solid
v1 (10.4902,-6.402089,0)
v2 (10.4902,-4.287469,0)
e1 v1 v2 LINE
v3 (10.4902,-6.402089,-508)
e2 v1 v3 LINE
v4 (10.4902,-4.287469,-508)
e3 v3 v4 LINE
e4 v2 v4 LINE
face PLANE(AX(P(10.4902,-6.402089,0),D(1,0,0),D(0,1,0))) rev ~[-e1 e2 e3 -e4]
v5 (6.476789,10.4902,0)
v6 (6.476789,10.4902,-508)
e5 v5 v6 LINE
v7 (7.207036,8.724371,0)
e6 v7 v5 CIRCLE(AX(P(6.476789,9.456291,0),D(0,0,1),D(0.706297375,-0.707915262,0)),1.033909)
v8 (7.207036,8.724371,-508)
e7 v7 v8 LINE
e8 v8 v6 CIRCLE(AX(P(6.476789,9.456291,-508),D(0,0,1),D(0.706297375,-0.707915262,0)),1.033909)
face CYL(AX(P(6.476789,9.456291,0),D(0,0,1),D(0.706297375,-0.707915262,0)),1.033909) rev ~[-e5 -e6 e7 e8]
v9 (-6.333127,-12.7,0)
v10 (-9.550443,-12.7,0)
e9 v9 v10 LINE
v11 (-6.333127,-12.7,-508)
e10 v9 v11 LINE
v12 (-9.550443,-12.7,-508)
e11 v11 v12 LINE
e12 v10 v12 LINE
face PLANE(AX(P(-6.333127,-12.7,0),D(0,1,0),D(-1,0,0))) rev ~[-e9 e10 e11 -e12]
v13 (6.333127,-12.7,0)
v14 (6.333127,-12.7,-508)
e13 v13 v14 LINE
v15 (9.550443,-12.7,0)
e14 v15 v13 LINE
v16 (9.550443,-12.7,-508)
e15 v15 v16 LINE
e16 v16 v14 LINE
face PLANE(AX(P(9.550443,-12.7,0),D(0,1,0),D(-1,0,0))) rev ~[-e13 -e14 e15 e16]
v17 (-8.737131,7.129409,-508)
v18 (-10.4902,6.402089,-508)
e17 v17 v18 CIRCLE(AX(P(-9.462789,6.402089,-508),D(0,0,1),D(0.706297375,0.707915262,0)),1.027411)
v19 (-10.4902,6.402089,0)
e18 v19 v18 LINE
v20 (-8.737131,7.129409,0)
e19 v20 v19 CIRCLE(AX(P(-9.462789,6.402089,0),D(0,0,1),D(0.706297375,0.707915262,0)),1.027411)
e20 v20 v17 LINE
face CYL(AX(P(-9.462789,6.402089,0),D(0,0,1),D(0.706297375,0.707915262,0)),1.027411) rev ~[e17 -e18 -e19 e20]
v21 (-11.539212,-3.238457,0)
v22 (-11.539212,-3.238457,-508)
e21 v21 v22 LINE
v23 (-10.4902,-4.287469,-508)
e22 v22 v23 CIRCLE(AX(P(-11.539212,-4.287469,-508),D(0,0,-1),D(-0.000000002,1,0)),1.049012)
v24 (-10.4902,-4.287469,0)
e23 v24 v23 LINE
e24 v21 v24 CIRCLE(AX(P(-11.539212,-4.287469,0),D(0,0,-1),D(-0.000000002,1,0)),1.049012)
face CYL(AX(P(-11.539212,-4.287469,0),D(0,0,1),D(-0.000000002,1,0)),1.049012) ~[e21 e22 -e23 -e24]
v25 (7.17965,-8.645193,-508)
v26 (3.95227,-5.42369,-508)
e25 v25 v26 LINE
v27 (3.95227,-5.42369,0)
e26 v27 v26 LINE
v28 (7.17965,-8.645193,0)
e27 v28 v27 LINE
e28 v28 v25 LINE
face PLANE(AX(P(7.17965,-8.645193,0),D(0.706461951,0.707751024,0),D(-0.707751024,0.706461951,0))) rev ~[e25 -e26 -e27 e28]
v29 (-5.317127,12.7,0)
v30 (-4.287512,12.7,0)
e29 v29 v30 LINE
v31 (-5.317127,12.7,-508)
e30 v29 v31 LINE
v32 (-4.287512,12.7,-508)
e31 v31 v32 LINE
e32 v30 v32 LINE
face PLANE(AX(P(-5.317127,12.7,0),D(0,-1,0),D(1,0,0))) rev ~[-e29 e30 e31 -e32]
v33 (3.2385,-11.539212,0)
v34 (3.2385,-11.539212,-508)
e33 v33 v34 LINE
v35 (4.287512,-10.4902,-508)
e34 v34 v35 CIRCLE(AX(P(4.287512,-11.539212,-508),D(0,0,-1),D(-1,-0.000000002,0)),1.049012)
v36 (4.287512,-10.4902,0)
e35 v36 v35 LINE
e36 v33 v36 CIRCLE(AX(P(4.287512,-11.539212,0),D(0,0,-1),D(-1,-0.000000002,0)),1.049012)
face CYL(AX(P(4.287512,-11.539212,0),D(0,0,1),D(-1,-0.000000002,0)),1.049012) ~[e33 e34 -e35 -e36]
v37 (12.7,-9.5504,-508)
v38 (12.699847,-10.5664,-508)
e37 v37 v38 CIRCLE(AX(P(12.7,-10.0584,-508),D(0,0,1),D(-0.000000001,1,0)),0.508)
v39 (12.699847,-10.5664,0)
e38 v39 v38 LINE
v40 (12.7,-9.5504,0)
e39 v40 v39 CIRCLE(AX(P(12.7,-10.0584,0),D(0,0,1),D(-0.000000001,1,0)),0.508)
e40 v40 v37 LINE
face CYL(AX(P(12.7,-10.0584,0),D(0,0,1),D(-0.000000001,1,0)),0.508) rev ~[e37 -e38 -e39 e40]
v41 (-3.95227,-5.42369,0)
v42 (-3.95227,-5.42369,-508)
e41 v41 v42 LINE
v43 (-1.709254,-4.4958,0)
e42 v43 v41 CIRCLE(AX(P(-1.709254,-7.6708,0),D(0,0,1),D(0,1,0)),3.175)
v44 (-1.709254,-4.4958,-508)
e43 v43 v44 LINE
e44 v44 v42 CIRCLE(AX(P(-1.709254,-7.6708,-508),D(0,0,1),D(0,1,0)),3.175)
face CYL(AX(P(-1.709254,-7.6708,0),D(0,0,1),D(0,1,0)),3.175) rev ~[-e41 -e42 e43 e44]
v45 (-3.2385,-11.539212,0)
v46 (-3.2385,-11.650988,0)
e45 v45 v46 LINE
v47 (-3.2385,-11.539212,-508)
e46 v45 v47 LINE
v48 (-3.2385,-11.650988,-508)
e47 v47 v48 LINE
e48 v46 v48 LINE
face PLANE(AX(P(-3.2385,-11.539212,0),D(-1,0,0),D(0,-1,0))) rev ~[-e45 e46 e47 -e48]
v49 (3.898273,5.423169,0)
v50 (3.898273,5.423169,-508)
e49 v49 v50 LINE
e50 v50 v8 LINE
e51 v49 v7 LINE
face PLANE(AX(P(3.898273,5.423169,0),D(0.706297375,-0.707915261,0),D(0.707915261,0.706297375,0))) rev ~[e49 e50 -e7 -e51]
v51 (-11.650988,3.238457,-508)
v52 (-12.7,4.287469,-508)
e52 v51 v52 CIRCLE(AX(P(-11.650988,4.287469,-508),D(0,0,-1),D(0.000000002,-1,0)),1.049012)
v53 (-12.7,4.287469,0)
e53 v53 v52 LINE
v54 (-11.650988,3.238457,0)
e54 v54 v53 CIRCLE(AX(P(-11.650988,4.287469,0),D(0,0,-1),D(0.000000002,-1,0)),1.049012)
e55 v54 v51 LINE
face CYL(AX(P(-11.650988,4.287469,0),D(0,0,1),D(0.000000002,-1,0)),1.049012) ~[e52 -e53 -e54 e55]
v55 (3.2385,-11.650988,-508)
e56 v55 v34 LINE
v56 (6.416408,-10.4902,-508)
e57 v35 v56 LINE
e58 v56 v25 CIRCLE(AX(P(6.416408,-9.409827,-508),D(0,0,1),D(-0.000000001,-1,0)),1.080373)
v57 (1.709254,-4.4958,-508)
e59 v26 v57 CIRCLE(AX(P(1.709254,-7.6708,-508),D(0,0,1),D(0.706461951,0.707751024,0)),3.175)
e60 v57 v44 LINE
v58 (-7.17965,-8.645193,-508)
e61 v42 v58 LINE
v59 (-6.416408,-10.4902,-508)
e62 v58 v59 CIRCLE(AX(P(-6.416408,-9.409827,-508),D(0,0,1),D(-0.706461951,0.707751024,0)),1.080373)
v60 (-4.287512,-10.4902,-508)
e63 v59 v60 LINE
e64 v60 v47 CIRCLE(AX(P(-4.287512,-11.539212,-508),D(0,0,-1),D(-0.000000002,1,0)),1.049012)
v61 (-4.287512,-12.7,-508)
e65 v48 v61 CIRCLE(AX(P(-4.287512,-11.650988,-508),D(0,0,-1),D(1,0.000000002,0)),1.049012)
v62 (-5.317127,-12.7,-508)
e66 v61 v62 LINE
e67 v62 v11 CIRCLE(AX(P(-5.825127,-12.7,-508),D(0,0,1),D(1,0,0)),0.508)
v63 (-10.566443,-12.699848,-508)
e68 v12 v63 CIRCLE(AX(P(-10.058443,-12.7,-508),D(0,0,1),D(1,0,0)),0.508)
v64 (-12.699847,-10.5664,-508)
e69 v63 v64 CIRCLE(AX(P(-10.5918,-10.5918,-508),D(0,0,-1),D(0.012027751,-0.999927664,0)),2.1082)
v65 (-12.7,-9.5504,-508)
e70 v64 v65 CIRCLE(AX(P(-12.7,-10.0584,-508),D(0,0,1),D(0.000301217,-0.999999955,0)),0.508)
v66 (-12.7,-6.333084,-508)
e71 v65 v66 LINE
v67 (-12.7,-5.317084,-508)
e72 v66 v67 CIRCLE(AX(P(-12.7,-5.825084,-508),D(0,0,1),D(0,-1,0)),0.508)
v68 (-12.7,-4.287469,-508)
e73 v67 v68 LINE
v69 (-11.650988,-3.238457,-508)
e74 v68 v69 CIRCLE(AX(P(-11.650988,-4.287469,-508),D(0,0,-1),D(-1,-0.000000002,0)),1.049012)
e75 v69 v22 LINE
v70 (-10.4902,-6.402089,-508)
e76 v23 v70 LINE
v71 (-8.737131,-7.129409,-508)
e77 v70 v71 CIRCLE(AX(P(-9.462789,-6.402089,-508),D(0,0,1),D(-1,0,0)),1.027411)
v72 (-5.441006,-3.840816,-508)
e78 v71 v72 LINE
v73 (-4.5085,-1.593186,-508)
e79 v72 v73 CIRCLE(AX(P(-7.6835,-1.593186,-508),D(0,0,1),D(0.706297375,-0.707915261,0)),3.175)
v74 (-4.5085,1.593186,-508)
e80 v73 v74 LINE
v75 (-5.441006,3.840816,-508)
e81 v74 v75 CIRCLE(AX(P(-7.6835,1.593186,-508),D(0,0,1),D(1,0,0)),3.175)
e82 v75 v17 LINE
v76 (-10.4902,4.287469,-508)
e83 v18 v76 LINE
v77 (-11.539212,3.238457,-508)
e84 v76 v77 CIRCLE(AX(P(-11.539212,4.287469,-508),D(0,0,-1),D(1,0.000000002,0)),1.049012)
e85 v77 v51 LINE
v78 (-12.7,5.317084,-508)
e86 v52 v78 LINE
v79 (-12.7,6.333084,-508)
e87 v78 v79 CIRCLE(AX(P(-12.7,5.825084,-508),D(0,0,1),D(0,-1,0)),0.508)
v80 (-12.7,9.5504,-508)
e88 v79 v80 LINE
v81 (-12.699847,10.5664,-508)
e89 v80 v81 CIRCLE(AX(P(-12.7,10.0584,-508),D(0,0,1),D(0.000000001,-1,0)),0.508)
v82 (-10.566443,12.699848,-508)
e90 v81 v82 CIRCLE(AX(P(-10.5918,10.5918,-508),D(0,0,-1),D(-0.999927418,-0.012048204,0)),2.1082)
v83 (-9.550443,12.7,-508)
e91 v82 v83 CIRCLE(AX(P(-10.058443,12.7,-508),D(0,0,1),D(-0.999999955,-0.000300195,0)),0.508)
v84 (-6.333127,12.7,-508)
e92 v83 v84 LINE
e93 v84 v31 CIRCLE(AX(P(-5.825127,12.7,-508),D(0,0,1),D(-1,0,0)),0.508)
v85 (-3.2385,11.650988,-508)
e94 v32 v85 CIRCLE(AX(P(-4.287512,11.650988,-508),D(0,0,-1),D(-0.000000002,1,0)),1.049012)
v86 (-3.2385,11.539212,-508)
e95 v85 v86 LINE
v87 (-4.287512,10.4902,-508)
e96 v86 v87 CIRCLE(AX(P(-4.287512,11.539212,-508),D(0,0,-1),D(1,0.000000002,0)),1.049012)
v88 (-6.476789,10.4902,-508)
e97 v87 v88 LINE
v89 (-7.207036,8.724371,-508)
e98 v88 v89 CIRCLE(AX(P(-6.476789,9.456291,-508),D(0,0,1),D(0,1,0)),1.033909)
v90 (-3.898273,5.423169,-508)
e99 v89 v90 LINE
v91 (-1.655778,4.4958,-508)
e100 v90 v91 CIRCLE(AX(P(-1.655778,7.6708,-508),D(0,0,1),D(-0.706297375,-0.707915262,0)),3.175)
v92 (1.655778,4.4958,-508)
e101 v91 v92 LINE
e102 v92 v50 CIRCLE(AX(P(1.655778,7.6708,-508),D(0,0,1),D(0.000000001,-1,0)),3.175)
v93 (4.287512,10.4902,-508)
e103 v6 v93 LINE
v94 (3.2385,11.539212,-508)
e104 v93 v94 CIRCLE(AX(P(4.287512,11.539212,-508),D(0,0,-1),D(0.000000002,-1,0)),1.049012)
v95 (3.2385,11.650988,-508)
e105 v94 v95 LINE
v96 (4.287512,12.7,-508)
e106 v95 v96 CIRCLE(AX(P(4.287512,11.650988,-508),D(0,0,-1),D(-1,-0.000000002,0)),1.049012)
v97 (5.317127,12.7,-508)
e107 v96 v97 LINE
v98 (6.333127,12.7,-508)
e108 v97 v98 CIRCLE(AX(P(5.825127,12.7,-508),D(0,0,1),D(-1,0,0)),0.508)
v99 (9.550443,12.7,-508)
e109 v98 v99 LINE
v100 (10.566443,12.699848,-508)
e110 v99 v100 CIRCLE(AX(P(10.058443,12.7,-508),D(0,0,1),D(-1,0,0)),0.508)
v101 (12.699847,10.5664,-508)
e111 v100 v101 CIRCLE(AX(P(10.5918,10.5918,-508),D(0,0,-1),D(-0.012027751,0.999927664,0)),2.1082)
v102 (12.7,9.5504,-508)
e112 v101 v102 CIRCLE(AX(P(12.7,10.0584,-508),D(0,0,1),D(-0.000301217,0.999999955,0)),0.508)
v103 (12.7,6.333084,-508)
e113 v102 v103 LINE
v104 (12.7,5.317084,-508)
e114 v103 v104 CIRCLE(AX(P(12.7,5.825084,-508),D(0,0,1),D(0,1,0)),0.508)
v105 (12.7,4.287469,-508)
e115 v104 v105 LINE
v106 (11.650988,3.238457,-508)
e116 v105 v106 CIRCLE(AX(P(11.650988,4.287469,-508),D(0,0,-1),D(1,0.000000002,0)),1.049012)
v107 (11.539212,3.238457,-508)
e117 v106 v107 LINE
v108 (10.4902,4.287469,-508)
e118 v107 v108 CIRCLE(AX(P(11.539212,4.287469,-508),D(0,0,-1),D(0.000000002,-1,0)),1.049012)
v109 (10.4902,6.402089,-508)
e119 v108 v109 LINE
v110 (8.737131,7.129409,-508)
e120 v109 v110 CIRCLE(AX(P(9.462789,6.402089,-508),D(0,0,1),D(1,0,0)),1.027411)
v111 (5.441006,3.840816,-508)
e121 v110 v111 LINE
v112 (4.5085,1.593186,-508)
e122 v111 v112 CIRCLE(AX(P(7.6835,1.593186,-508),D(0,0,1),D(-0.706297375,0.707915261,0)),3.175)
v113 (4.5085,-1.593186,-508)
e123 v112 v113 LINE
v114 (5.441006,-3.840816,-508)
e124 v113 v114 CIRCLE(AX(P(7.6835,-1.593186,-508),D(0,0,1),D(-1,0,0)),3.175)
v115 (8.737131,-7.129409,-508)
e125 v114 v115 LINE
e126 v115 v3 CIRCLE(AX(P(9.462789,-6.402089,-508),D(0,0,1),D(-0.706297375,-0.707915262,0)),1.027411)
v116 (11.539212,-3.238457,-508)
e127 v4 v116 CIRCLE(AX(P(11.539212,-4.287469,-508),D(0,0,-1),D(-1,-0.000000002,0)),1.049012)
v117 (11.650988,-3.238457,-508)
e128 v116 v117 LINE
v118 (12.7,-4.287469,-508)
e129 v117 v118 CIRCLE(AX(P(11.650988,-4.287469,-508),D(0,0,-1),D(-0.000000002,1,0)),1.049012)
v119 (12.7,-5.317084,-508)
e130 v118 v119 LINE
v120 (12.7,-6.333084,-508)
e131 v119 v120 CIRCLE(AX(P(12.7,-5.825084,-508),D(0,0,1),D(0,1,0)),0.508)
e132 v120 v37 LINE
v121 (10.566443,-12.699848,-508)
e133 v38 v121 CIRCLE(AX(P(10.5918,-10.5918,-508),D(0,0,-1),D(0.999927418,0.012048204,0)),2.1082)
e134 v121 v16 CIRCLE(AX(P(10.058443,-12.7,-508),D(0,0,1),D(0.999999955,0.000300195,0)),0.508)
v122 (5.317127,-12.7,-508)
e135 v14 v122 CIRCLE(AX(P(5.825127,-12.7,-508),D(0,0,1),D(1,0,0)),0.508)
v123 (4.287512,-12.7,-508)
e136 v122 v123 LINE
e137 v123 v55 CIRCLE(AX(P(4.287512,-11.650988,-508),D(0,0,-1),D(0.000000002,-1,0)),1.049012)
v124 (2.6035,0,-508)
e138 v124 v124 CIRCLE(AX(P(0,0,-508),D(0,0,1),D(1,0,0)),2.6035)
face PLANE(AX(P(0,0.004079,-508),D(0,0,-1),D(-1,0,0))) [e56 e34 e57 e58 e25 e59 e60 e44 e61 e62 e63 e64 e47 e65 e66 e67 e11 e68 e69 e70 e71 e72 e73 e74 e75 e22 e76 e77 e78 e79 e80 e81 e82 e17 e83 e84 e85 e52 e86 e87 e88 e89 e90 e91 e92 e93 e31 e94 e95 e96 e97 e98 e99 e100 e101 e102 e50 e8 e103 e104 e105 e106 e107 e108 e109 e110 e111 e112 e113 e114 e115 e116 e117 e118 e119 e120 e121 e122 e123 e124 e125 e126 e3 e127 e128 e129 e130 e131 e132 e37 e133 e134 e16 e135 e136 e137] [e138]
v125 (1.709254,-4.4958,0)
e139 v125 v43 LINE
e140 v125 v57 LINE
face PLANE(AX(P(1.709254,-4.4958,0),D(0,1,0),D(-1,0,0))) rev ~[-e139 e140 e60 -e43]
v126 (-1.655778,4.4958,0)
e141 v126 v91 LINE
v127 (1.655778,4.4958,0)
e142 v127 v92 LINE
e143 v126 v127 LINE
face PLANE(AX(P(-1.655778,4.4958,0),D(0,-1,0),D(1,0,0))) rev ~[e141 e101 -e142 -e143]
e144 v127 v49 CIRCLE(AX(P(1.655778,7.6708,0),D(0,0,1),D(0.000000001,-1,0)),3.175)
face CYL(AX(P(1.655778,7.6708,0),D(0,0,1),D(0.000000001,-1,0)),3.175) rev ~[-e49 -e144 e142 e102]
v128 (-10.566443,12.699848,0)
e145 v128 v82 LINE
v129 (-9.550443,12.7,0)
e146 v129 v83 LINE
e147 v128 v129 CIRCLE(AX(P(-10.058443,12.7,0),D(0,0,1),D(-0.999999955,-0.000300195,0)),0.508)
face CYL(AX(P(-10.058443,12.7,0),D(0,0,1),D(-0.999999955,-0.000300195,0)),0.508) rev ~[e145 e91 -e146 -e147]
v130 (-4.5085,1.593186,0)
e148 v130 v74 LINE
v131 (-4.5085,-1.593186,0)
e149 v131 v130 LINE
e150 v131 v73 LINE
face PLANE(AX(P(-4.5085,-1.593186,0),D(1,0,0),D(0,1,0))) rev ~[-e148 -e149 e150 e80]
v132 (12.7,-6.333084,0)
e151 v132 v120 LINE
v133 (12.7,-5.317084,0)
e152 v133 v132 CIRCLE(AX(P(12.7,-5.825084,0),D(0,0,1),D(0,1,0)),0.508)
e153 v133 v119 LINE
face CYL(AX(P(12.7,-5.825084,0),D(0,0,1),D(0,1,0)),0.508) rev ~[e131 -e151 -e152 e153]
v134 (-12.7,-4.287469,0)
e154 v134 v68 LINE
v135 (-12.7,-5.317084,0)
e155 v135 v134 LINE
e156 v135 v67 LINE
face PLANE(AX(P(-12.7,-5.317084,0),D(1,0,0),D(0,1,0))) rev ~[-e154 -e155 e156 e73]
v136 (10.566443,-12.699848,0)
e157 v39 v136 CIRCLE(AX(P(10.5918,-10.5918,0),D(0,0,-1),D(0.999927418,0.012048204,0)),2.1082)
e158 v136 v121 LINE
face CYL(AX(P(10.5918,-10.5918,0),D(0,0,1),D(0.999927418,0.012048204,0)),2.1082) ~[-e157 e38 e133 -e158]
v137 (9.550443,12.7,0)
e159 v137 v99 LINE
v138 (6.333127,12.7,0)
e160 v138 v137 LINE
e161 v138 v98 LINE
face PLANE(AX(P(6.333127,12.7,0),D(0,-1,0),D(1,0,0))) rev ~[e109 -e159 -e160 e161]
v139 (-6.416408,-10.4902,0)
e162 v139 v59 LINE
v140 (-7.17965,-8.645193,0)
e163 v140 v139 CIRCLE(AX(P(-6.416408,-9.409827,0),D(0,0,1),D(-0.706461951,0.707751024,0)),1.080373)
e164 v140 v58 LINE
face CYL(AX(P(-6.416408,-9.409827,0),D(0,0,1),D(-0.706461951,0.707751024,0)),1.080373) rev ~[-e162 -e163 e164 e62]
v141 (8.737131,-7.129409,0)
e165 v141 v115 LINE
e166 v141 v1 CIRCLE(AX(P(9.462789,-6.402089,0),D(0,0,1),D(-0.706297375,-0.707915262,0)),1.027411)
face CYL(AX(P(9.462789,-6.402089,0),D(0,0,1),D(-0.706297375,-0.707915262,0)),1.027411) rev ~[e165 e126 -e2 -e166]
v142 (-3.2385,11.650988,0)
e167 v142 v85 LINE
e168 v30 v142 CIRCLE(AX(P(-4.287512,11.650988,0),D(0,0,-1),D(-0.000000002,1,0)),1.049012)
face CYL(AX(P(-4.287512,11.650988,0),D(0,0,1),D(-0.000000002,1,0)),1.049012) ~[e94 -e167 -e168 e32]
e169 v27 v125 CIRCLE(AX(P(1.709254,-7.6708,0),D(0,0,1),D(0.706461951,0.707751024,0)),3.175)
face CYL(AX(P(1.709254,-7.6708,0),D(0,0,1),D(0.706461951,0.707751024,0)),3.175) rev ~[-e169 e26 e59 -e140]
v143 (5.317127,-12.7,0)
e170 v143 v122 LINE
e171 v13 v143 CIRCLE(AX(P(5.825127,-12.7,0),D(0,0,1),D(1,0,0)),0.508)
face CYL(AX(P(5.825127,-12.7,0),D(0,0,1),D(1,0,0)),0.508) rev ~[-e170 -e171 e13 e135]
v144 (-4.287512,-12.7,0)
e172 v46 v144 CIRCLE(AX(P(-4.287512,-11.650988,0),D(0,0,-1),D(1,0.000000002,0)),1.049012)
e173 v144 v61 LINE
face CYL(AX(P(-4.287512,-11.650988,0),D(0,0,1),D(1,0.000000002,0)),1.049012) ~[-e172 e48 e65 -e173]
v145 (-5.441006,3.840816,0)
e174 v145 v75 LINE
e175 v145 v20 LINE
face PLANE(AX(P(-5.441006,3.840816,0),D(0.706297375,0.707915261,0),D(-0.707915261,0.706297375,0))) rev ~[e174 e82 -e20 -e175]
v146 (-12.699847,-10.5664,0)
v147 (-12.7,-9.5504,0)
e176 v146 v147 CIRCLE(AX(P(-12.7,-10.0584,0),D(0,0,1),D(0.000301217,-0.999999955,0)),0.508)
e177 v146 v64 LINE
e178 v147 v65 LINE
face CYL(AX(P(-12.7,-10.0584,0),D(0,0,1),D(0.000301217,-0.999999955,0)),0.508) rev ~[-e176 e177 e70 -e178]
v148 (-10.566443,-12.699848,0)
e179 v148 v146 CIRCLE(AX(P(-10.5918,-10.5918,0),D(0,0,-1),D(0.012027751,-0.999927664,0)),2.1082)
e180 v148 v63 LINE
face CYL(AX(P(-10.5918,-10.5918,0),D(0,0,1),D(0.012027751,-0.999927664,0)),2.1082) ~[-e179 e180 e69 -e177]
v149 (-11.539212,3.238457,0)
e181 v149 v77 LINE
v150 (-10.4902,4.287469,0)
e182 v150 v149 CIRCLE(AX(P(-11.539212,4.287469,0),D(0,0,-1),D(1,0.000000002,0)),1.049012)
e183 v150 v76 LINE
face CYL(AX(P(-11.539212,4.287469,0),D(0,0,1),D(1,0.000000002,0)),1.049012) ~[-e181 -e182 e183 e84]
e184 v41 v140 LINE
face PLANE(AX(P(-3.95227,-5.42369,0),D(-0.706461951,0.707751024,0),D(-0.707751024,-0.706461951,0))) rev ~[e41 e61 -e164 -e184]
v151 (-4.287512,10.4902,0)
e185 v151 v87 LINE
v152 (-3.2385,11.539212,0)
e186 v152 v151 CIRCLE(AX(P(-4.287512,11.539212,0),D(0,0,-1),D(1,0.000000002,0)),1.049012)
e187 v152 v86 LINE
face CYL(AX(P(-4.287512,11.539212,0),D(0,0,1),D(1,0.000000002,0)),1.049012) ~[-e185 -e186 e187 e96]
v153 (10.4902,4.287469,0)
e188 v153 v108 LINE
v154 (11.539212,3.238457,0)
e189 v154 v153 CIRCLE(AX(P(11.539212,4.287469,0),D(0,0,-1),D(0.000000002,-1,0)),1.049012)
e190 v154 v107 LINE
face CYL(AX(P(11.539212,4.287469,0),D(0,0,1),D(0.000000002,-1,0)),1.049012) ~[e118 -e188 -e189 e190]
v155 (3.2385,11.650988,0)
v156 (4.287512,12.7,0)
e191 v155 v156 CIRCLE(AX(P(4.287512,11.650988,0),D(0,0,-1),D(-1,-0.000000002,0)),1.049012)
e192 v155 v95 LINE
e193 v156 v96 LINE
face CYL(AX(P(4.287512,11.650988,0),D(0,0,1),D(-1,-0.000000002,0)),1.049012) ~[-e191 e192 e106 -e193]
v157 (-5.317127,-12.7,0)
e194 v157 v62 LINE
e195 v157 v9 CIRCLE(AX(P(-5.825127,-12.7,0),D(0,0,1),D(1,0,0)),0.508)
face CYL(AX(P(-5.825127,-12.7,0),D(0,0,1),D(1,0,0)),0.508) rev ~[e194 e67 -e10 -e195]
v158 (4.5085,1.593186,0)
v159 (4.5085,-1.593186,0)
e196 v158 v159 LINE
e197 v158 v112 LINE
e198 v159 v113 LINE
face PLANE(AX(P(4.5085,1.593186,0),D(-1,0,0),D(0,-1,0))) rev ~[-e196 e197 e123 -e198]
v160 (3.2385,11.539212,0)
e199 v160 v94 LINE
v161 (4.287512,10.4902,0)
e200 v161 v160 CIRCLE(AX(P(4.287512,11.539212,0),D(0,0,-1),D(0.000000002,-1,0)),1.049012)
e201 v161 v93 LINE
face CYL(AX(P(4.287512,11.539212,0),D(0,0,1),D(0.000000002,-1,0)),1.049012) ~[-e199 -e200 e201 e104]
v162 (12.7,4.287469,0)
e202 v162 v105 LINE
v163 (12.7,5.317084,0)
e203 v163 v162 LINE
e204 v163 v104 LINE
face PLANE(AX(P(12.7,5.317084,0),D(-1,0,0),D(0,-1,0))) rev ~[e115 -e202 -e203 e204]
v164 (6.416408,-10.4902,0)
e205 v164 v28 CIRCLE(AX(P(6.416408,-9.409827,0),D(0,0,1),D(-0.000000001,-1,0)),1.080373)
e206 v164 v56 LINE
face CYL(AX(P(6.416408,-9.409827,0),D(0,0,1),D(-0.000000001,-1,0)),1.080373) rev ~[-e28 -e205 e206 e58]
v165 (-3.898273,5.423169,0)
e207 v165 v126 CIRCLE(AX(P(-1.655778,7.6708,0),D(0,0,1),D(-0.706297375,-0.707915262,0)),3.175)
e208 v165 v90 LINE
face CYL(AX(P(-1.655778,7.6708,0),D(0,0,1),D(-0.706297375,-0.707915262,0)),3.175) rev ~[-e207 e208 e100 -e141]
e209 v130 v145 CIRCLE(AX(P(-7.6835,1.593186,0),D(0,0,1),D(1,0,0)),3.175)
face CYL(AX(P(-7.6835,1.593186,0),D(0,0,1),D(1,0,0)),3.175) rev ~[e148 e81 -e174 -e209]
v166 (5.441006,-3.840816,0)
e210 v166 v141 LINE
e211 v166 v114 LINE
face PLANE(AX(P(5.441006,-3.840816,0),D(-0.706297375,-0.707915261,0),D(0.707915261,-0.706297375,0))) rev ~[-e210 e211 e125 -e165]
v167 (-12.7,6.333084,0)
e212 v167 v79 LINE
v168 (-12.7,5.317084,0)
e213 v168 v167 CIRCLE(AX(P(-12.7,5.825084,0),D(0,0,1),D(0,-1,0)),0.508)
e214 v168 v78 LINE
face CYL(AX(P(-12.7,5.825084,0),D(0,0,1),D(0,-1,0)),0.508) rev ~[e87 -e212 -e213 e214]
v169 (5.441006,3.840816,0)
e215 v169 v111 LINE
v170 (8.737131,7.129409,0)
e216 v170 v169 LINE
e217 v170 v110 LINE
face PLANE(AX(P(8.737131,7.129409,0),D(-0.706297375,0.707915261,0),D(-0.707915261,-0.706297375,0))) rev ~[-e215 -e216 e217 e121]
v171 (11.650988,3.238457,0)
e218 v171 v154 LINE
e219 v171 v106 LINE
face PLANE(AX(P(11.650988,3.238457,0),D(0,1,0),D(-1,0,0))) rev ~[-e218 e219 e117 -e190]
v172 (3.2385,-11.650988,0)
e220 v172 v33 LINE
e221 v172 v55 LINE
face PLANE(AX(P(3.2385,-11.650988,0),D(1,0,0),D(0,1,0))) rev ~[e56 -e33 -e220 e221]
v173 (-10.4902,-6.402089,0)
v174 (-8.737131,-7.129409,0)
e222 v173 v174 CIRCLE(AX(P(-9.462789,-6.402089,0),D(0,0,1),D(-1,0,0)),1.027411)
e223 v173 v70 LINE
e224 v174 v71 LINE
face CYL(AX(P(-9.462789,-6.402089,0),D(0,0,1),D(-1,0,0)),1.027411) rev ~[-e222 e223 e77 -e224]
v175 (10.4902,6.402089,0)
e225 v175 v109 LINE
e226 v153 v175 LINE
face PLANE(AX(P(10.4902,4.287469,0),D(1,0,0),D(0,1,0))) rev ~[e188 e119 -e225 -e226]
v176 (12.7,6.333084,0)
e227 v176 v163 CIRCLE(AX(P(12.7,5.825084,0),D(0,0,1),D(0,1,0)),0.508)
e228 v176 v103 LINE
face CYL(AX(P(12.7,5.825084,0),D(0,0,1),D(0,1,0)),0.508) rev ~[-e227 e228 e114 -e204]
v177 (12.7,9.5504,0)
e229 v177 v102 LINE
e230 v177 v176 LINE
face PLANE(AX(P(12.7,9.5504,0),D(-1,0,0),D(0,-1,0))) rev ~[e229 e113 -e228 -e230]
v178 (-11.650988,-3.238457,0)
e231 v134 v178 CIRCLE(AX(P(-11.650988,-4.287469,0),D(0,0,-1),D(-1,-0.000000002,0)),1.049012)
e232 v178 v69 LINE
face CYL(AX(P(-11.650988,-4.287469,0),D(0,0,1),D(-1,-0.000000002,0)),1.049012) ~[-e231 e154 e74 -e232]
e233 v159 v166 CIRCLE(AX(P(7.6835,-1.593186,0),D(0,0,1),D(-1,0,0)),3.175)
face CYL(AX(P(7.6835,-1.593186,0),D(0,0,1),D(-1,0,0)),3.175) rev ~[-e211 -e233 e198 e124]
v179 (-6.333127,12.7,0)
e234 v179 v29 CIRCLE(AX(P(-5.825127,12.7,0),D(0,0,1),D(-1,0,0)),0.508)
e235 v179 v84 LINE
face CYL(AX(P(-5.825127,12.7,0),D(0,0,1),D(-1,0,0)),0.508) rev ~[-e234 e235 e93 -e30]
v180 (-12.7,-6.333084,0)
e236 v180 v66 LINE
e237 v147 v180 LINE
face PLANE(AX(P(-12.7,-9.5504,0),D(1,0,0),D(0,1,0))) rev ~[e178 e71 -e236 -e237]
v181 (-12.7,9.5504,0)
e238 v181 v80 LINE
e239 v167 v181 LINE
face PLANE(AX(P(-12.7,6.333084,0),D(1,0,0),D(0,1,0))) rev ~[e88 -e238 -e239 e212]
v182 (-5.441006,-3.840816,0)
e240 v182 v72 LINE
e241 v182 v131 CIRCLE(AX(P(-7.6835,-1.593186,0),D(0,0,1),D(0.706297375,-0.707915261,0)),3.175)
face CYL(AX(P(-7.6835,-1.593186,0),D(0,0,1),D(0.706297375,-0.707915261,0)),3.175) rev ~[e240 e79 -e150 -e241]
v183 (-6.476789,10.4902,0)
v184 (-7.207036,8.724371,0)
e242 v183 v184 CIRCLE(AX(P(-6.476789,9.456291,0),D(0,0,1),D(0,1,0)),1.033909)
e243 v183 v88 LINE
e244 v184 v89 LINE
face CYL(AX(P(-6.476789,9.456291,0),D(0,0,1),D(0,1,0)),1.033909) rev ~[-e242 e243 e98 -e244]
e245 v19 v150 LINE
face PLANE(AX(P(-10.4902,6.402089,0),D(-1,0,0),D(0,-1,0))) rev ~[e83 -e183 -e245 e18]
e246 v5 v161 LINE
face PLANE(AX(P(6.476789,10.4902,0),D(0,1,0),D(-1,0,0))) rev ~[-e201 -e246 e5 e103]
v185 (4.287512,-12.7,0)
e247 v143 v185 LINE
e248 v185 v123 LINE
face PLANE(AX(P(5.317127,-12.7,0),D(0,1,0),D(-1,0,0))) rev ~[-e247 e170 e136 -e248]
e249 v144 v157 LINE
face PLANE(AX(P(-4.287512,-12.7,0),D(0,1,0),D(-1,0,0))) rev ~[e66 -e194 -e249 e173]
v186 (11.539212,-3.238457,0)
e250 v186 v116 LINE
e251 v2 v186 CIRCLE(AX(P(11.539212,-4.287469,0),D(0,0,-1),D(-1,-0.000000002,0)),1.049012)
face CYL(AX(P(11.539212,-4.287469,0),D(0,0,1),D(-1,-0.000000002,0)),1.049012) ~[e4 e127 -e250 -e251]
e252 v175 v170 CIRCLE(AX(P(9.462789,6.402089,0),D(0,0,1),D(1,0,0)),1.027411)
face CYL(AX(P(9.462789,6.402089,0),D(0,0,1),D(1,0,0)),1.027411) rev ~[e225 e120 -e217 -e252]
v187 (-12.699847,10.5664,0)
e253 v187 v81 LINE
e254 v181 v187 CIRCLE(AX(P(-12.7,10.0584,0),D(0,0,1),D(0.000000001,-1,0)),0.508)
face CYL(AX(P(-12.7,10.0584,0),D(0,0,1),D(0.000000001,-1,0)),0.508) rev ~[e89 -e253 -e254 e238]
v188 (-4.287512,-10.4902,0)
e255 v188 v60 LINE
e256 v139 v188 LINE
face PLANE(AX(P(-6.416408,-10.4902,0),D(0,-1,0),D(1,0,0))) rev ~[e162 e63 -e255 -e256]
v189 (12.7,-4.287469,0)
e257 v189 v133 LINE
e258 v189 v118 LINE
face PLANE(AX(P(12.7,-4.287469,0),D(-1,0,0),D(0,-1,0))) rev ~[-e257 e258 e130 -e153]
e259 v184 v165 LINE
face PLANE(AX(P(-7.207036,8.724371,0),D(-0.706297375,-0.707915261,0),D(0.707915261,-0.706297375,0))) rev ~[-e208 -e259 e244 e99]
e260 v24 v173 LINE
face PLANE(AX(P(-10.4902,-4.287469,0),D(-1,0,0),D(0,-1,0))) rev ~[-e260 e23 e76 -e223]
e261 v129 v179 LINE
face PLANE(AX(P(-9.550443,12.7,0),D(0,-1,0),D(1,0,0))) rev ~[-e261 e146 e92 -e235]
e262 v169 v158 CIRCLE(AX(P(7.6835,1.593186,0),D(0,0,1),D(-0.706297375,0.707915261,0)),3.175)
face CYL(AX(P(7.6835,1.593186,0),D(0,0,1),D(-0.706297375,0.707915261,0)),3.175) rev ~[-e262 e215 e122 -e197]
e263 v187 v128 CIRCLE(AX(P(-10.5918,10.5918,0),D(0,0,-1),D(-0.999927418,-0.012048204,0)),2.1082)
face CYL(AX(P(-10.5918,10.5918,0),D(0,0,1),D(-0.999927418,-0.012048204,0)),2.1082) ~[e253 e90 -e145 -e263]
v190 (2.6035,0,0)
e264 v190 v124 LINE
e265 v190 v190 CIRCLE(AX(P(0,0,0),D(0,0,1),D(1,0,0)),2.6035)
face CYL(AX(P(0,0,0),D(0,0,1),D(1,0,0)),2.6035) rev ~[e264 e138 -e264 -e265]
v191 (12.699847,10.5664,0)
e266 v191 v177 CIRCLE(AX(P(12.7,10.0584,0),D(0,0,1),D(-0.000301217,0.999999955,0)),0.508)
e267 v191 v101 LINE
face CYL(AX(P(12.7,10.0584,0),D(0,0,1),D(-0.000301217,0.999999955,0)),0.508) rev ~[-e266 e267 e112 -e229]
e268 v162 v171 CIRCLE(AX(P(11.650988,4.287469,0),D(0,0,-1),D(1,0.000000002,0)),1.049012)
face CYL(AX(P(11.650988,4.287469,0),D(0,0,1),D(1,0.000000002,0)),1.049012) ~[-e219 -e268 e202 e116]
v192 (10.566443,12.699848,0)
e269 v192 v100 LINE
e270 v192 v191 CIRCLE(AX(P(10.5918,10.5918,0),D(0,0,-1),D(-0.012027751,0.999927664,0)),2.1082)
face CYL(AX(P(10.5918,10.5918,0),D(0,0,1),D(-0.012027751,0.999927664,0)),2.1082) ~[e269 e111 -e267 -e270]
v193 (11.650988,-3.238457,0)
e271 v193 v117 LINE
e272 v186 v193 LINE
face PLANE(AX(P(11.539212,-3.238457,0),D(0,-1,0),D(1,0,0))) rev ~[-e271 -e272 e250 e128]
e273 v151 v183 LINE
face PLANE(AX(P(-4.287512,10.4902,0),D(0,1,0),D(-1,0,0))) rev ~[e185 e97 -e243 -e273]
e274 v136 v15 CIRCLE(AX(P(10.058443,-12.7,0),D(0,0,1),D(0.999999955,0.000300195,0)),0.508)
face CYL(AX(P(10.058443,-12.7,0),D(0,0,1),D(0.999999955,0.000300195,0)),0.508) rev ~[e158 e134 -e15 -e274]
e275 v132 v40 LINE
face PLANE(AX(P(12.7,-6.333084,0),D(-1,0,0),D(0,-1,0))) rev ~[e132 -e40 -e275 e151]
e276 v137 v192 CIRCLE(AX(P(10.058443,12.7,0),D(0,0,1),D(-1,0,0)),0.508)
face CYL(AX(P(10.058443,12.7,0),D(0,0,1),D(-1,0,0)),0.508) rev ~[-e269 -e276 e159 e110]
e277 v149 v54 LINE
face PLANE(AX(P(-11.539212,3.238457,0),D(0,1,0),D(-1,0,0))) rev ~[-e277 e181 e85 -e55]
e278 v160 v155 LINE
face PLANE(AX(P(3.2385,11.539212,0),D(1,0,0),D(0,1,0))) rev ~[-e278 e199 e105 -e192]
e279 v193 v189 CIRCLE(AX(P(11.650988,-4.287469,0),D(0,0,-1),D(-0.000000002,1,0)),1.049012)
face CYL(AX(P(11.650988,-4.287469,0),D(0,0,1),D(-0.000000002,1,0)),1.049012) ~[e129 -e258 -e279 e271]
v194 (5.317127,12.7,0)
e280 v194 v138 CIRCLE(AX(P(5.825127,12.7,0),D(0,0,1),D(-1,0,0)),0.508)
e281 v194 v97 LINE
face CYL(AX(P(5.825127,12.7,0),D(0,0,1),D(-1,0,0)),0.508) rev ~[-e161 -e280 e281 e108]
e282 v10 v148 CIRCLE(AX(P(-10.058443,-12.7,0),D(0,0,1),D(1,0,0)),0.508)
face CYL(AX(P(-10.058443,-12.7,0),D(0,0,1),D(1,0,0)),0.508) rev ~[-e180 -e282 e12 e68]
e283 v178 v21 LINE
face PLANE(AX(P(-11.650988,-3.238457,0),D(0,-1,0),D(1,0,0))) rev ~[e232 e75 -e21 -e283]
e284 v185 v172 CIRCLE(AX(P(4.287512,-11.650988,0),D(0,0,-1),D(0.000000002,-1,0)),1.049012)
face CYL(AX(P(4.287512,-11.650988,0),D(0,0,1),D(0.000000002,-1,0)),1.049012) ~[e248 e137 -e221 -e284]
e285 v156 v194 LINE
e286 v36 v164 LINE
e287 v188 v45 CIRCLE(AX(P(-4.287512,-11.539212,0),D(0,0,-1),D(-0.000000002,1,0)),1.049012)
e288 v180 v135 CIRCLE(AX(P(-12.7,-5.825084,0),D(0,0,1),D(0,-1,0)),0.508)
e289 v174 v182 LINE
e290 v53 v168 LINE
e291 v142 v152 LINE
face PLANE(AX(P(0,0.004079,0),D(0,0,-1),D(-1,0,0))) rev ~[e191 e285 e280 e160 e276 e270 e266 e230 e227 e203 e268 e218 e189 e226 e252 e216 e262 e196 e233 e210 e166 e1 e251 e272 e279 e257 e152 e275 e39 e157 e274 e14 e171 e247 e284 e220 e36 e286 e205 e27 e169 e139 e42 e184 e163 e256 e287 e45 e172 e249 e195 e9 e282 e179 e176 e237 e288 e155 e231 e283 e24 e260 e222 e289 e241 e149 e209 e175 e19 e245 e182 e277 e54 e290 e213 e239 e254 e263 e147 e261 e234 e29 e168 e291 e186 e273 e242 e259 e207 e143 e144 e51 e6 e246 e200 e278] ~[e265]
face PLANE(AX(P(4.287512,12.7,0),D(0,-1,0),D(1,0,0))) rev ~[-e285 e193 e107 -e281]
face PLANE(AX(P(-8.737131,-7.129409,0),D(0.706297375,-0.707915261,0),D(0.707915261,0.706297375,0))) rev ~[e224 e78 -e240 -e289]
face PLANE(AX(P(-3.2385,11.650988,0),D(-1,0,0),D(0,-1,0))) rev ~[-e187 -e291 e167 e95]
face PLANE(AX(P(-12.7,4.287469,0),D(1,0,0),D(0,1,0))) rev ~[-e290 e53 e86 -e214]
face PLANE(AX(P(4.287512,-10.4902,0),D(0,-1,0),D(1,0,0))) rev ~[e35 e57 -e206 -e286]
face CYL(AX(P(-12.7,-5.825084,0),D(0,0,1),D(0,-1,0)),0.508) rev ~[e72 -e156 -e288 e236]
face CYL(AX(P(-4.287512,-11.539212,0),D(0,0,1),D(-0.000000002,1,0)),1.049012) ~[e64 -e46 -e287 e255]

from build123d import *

# Parameters (mm, degrees)
SKETCH1_R      = 2.6035
EXTRUDE1_DEPTH = 508


with BuildPart() as part:
    # Sketch1 → Extrude1 (new body)
    with BuildSketch(Plane.XY):
        with BuildLine():
            Line((-7.207036008, 8.724370562), (-3.898272566, 5.423169045))
            ThreePointArc((-3.898272566, 5.423169045), (-2.869120213, 4.736787962), (-1.655778399, 4.4958))
            Line((-1.655778399, 4.4958), (1.655778399, 4.4958))
            ThreePointArc((1.655778399, 4.4958), (2.869120213, 4.736787962), (3.898272566, 5.423169045))
            Line((3.898272566, 5.423169045), (7.207036008, 8.724370562))
            ThreePointArc((7.207036008, 8.724370562), (7.432222385, 9.85140422), (6.476788598, 10.4902))
            Line((6.476788598, 10.4902), (4.287512407, 10.4902))
            ThreePointArc((4.287512407, 10.4902), (3.54574862, 10.79744862), (3.2385, 11.539212407))
            Line((3.2385, 11.539212407), (3.2385, 11.650987593))
            ThreePointArc((3.2385, 11.650987593), (3.54574862, 12.39275138), (4.287512407, 12.7))
            Line((4.287512407, 12.7), (5.317126718, 12.7))
            ThreePointArc((5.317126718, 12.7), (5.825126718, 12.192), (6.333126718, 12.7))
            Line((6.333126718, 12.7), (9.550443118, 12.7))
            ThreePointArc((9.550443118, 12.7), (10.058366869, 12.192000006), (10.566443095, 12.699847501))
            ThreePointArc((10.566443095, 12.699847501), (12.082537762, 12.08250727), (12.699846982, 10.566399977))
            ThreePointArc((12.699846982, 10.566399977), (12.192000006, 10.058323491), (12.7, 9.5504))
            Line((12.7, 9.5504), (12.7, 6.3330836))
            ThreePointArc((12.7, 6.3330836), (12.192, 5.8250836), (12.7, 5.3170836))
            Line((12.7, 5.3170836), (12.7, 4.287469289))
            ThreePointArc((12.7, 4.287469289), (12.39275138, 3.545705502), (11.650987593, 3.238456882))
            Line((11.650987593, 3.238456882), (11.539212407, 3.238456882))
            ThreePointArc((11.539212407, 3.238456882), (10.79744862, 3.545705502), (10.4902, 4.287469289))
            Line((10.4902, 4.287469289), (10.4902, 6.402089023))
            ThreePointArc((10.4902, 6.402089023), (9.856505071, 7.351067942), (8.737131347, 7.129408934))
            Line((8.737131347, 7.129408934), (5.441005833, 3.840816462))
            ThreePointArc((5.441005833, 3.840816462), (4.750877967, 2.809883091), (4.5085, 1.593185507))
            Line((4.5085, 1.593185507), (4.5085, -1.593185507))
            ThreePointArc((4.5085, -1.593185507), (4.750877967, -2.809883091), (5.441005833, -3.840816462))
            Line((5.441005833, -3.840816462), (8.737131347, -7.129408934))
            ThreePointArc((8.737131347, -7.129408934), (9.856505071, -7.351067942), (10.4902, -6.402089023))
            Line((10.4902, -6.402089023), (10.4902, -4.287469289))
            ThreePointArc((10.4902, -4.287469289), (10.79744862, -3.545705502), (11.539212407, -3.238456882))
            Line((11.539212407, -3.238456882), (11.650987593, -3.238456882))
            ThreePointArc((11.650987593, -3.238456882), (12.39275138, -3.545705502), (12.7, -4.287469289))
            Line((12.7, -4.287469289), (12.7, -5.3170836))
            ThreePointArc((12.7, -5.3170836), (12.192, -5.8250836), (12.7, -6.3330836))
            Line((12.7, -6.3330836), (12.7, -9.5504))
            ThreePointArc((12.7, -9.5504), (12.192000006, -10.058323491), (12.699846982, -10.566399977))
            ThreePointArc((12.699846982, -10.566399977), (12.082537762, -12.08250727), (10.566443095, -12.699847501))
            ThreePointArc((10.566443095, -12.699847501), (10.058366869, -12.192000006), (9.550443118, -12.7))
            Line((9.550443118, -12.7), (6.333126718, -12.7))
            ThreePointArc((6.333126718, -12.7), (5.825126718, -12.192), (5.317126718, -12.7))
            Line((5.317126718, -12.7), (4.287512407, -12.7))
            ThreePointArc((4.287512407, -12.7), (3.54574862, -12.39275138), (3.2385, -11.650987593))
            Line((3.2385, -11.650987593), (3.2385, -11.539212407))
            ThreePointArc((3.2385, -11.539212407), (3.54574862, -10.79744862), (4.287512407, -10.4902))
            Line((4.287512407, -10.4902), (6.416408329, -10.4902))
            ThreePointArc((6.416408329, -10.4902), (7.41473083, -9.822813117), (7.179650497, -8.645192506))
            Line((7.179650497, -8.645192506), (3.952270251, -5.423690499))
            ThreePointArc((3.952270251, -5.423690499), (2.922936451, -4.736929036), (1.709253557, -4.4958))
            Line((1.709253557, -4.4958), (-1.709253557, -4.4958))
            ThreePointArc((-1.709253557, -4.4958), (-2.922936451, -4.736929036), (-3.952270251, -5.423690499))
            Line((-3.952270251, -5.423690499), (-7.179650497, -8.645192506))
            ThreePointArc((-7.179650497, -8.645192506), (-7.41473083, -9.822813117), (-6.416408329, -10.4902))
            Line((-6.416408329, -10.4902), (-4.287512407, -10.4902))
            ThreePointArc((-4.287512407, -10.4902), (-3.54574862, -10.79744862), (-3.2385, -11.539212407))
            Line((-3.2385, -11.539212407), (-3.2385, -11.650987593))
            ThreePointArc((-3.2385, -11.650987593), (-3.54574862, -12.39275138), (-4.287512407, -12.7))
            Line((-4.287512407, -12.7), (-5.317126718, -12.7))
            ThreePointArc((-5.317126718, -12.7), (-5.825126718, -12.192), (-6.333126718, -12.7))
            Line((-6.333126718, -12.7), (-9.550443118, -12.7))
            ThreePointArc((-9.550443118, -12.7), (-10.058366869, -12.192000006), (-10.566443095, -12.699847501))
            ThreePointArc((-10.566443095, -12.699847501), (-12.082537762, -12.08250727), (-12.699846982, -10.566399977))
            ThreePointArc((-12.699846982, -10.566399977), (-12.192000006, -10.058323491), (-12.7, -9.5504))
            Line((-12.7, -9.5504), (-12.7, -6.3330836))
            ThreePointArc((-12.7, -6.3330836), (-12.192, -5.8250836), (-12.7, -5.3170836))
            Line((-12.7, -5.3170836), (-12.7, -4.287469289))
            ThreePointArc((-12.7, -4.287469289), (-12.39275138, -3.545705502), (-11.650987593, -3.238456882))
            Line((-11.650987593, -3.238456882), (-11.539212407, -3.238456882))
            ThreePointArc((-11.539212407, -3.238456882), (-10.79744862, -3.545705502), (-10.4902, -4.287469289))
            Line((-10.4902, -4.287469289), (-10.4902, -6.402089023))
            ThreePointArc((-10.4902, -6.402089023), (-9.856505071, -7.351067942), (-8.737131347, -7.129408934))
            Line((-8.737131347, -7.129408934), (-5.441005833, -3.840816462))
            ThreePointArc((-5.441005833, -3.840816462), (-4.750877967, -2.809883091), (-4.5085, -1.593185507))
            Line((-4.5085, -1.593185507), (-4.5085, 1.593185507))
            ThreePointArc((-4.5085, 1.593185507), (-4.750877967, 2.809883091), (-5.441005833, 3.840816462))
            Line((-5.441005833, 3.840816462), (-8.737131347, 7.129408934))
            ThreePointArc((-8.737131347, 7.129408934), (-9.856505071, 7.351067942), (-10.4902, 6.402089023))
            Line((-10.4902, 6.402089023), (-10.4902, 4.287469289))
            ThreePointArc((-10.4902, 4.287469289), (-10.79744862, 3.545705502), (-11.539212407, 3.238456882))
            Line((-11.539212407, 3.238456882), (-11.650987593, 3.238456882))
            ThreePointArc((-11.650987593, 3.238456882), (-12.39275138, 3.545705502), (-12.7, 4.287469289))
            Line((-12.7, 4.287469289), (-12.7, 5.3170836))
            ThreePointArc((-12.7, 5.3170836), (-12.192, 5.8250836), (-12.7, 6.3330836))
            Line((-12.7, 6.3330836), (-12.7, 9.5504))
            ThreePointArc((-12.7, 9.5504), (-12.192000006, 10.058323491), (-12.699846982, 10.566399977))
            ThreePointArc((-12.699846982, 10.566399977), (-12.082537762, 12.08250727), (-10.566443095, 12.699847501))
            ThreePointArc((-10.566443095, 12.699847501), (-10.058366869, 12.192000006), (-9.550443118, 12.7))
            Line((-9.550443118, 12.7), (-6.333126718, 12.7))
            ThreePointArc((-6.333126718, 12.7), (-5.825126718, 12.192), (-5.317126718, 12.7))
            Line((-5.317126718, 12.7), (-4.287512407, 12.7))
            ThreePointArc((-4.287512407, 12.7), (-3.54574862, 12.39275138), (-3.2385, 11.650987593))
            Line((-3.2385, 11.650987593), (-3.2385, 11.539212407))
            ThreePointArc((-3.2385, 11.539212407), (-3.54574862, 10.79744862), (-4.287512407, 10.4902))
            Line((-4.287512407, 10.4902), (-6.476788598, 10.4902))
            ThreePointArc((-6.476788598, 10.4902), (-7.432222385, 9.85140422), (-7.207036008, 8.724370562))
        make_face()
        Circle(SKETCH1_R, mode=Mode.SUBTRACT)
    extrude(amount=-EXTRUDE1_DEPTH)


solid = part.part
